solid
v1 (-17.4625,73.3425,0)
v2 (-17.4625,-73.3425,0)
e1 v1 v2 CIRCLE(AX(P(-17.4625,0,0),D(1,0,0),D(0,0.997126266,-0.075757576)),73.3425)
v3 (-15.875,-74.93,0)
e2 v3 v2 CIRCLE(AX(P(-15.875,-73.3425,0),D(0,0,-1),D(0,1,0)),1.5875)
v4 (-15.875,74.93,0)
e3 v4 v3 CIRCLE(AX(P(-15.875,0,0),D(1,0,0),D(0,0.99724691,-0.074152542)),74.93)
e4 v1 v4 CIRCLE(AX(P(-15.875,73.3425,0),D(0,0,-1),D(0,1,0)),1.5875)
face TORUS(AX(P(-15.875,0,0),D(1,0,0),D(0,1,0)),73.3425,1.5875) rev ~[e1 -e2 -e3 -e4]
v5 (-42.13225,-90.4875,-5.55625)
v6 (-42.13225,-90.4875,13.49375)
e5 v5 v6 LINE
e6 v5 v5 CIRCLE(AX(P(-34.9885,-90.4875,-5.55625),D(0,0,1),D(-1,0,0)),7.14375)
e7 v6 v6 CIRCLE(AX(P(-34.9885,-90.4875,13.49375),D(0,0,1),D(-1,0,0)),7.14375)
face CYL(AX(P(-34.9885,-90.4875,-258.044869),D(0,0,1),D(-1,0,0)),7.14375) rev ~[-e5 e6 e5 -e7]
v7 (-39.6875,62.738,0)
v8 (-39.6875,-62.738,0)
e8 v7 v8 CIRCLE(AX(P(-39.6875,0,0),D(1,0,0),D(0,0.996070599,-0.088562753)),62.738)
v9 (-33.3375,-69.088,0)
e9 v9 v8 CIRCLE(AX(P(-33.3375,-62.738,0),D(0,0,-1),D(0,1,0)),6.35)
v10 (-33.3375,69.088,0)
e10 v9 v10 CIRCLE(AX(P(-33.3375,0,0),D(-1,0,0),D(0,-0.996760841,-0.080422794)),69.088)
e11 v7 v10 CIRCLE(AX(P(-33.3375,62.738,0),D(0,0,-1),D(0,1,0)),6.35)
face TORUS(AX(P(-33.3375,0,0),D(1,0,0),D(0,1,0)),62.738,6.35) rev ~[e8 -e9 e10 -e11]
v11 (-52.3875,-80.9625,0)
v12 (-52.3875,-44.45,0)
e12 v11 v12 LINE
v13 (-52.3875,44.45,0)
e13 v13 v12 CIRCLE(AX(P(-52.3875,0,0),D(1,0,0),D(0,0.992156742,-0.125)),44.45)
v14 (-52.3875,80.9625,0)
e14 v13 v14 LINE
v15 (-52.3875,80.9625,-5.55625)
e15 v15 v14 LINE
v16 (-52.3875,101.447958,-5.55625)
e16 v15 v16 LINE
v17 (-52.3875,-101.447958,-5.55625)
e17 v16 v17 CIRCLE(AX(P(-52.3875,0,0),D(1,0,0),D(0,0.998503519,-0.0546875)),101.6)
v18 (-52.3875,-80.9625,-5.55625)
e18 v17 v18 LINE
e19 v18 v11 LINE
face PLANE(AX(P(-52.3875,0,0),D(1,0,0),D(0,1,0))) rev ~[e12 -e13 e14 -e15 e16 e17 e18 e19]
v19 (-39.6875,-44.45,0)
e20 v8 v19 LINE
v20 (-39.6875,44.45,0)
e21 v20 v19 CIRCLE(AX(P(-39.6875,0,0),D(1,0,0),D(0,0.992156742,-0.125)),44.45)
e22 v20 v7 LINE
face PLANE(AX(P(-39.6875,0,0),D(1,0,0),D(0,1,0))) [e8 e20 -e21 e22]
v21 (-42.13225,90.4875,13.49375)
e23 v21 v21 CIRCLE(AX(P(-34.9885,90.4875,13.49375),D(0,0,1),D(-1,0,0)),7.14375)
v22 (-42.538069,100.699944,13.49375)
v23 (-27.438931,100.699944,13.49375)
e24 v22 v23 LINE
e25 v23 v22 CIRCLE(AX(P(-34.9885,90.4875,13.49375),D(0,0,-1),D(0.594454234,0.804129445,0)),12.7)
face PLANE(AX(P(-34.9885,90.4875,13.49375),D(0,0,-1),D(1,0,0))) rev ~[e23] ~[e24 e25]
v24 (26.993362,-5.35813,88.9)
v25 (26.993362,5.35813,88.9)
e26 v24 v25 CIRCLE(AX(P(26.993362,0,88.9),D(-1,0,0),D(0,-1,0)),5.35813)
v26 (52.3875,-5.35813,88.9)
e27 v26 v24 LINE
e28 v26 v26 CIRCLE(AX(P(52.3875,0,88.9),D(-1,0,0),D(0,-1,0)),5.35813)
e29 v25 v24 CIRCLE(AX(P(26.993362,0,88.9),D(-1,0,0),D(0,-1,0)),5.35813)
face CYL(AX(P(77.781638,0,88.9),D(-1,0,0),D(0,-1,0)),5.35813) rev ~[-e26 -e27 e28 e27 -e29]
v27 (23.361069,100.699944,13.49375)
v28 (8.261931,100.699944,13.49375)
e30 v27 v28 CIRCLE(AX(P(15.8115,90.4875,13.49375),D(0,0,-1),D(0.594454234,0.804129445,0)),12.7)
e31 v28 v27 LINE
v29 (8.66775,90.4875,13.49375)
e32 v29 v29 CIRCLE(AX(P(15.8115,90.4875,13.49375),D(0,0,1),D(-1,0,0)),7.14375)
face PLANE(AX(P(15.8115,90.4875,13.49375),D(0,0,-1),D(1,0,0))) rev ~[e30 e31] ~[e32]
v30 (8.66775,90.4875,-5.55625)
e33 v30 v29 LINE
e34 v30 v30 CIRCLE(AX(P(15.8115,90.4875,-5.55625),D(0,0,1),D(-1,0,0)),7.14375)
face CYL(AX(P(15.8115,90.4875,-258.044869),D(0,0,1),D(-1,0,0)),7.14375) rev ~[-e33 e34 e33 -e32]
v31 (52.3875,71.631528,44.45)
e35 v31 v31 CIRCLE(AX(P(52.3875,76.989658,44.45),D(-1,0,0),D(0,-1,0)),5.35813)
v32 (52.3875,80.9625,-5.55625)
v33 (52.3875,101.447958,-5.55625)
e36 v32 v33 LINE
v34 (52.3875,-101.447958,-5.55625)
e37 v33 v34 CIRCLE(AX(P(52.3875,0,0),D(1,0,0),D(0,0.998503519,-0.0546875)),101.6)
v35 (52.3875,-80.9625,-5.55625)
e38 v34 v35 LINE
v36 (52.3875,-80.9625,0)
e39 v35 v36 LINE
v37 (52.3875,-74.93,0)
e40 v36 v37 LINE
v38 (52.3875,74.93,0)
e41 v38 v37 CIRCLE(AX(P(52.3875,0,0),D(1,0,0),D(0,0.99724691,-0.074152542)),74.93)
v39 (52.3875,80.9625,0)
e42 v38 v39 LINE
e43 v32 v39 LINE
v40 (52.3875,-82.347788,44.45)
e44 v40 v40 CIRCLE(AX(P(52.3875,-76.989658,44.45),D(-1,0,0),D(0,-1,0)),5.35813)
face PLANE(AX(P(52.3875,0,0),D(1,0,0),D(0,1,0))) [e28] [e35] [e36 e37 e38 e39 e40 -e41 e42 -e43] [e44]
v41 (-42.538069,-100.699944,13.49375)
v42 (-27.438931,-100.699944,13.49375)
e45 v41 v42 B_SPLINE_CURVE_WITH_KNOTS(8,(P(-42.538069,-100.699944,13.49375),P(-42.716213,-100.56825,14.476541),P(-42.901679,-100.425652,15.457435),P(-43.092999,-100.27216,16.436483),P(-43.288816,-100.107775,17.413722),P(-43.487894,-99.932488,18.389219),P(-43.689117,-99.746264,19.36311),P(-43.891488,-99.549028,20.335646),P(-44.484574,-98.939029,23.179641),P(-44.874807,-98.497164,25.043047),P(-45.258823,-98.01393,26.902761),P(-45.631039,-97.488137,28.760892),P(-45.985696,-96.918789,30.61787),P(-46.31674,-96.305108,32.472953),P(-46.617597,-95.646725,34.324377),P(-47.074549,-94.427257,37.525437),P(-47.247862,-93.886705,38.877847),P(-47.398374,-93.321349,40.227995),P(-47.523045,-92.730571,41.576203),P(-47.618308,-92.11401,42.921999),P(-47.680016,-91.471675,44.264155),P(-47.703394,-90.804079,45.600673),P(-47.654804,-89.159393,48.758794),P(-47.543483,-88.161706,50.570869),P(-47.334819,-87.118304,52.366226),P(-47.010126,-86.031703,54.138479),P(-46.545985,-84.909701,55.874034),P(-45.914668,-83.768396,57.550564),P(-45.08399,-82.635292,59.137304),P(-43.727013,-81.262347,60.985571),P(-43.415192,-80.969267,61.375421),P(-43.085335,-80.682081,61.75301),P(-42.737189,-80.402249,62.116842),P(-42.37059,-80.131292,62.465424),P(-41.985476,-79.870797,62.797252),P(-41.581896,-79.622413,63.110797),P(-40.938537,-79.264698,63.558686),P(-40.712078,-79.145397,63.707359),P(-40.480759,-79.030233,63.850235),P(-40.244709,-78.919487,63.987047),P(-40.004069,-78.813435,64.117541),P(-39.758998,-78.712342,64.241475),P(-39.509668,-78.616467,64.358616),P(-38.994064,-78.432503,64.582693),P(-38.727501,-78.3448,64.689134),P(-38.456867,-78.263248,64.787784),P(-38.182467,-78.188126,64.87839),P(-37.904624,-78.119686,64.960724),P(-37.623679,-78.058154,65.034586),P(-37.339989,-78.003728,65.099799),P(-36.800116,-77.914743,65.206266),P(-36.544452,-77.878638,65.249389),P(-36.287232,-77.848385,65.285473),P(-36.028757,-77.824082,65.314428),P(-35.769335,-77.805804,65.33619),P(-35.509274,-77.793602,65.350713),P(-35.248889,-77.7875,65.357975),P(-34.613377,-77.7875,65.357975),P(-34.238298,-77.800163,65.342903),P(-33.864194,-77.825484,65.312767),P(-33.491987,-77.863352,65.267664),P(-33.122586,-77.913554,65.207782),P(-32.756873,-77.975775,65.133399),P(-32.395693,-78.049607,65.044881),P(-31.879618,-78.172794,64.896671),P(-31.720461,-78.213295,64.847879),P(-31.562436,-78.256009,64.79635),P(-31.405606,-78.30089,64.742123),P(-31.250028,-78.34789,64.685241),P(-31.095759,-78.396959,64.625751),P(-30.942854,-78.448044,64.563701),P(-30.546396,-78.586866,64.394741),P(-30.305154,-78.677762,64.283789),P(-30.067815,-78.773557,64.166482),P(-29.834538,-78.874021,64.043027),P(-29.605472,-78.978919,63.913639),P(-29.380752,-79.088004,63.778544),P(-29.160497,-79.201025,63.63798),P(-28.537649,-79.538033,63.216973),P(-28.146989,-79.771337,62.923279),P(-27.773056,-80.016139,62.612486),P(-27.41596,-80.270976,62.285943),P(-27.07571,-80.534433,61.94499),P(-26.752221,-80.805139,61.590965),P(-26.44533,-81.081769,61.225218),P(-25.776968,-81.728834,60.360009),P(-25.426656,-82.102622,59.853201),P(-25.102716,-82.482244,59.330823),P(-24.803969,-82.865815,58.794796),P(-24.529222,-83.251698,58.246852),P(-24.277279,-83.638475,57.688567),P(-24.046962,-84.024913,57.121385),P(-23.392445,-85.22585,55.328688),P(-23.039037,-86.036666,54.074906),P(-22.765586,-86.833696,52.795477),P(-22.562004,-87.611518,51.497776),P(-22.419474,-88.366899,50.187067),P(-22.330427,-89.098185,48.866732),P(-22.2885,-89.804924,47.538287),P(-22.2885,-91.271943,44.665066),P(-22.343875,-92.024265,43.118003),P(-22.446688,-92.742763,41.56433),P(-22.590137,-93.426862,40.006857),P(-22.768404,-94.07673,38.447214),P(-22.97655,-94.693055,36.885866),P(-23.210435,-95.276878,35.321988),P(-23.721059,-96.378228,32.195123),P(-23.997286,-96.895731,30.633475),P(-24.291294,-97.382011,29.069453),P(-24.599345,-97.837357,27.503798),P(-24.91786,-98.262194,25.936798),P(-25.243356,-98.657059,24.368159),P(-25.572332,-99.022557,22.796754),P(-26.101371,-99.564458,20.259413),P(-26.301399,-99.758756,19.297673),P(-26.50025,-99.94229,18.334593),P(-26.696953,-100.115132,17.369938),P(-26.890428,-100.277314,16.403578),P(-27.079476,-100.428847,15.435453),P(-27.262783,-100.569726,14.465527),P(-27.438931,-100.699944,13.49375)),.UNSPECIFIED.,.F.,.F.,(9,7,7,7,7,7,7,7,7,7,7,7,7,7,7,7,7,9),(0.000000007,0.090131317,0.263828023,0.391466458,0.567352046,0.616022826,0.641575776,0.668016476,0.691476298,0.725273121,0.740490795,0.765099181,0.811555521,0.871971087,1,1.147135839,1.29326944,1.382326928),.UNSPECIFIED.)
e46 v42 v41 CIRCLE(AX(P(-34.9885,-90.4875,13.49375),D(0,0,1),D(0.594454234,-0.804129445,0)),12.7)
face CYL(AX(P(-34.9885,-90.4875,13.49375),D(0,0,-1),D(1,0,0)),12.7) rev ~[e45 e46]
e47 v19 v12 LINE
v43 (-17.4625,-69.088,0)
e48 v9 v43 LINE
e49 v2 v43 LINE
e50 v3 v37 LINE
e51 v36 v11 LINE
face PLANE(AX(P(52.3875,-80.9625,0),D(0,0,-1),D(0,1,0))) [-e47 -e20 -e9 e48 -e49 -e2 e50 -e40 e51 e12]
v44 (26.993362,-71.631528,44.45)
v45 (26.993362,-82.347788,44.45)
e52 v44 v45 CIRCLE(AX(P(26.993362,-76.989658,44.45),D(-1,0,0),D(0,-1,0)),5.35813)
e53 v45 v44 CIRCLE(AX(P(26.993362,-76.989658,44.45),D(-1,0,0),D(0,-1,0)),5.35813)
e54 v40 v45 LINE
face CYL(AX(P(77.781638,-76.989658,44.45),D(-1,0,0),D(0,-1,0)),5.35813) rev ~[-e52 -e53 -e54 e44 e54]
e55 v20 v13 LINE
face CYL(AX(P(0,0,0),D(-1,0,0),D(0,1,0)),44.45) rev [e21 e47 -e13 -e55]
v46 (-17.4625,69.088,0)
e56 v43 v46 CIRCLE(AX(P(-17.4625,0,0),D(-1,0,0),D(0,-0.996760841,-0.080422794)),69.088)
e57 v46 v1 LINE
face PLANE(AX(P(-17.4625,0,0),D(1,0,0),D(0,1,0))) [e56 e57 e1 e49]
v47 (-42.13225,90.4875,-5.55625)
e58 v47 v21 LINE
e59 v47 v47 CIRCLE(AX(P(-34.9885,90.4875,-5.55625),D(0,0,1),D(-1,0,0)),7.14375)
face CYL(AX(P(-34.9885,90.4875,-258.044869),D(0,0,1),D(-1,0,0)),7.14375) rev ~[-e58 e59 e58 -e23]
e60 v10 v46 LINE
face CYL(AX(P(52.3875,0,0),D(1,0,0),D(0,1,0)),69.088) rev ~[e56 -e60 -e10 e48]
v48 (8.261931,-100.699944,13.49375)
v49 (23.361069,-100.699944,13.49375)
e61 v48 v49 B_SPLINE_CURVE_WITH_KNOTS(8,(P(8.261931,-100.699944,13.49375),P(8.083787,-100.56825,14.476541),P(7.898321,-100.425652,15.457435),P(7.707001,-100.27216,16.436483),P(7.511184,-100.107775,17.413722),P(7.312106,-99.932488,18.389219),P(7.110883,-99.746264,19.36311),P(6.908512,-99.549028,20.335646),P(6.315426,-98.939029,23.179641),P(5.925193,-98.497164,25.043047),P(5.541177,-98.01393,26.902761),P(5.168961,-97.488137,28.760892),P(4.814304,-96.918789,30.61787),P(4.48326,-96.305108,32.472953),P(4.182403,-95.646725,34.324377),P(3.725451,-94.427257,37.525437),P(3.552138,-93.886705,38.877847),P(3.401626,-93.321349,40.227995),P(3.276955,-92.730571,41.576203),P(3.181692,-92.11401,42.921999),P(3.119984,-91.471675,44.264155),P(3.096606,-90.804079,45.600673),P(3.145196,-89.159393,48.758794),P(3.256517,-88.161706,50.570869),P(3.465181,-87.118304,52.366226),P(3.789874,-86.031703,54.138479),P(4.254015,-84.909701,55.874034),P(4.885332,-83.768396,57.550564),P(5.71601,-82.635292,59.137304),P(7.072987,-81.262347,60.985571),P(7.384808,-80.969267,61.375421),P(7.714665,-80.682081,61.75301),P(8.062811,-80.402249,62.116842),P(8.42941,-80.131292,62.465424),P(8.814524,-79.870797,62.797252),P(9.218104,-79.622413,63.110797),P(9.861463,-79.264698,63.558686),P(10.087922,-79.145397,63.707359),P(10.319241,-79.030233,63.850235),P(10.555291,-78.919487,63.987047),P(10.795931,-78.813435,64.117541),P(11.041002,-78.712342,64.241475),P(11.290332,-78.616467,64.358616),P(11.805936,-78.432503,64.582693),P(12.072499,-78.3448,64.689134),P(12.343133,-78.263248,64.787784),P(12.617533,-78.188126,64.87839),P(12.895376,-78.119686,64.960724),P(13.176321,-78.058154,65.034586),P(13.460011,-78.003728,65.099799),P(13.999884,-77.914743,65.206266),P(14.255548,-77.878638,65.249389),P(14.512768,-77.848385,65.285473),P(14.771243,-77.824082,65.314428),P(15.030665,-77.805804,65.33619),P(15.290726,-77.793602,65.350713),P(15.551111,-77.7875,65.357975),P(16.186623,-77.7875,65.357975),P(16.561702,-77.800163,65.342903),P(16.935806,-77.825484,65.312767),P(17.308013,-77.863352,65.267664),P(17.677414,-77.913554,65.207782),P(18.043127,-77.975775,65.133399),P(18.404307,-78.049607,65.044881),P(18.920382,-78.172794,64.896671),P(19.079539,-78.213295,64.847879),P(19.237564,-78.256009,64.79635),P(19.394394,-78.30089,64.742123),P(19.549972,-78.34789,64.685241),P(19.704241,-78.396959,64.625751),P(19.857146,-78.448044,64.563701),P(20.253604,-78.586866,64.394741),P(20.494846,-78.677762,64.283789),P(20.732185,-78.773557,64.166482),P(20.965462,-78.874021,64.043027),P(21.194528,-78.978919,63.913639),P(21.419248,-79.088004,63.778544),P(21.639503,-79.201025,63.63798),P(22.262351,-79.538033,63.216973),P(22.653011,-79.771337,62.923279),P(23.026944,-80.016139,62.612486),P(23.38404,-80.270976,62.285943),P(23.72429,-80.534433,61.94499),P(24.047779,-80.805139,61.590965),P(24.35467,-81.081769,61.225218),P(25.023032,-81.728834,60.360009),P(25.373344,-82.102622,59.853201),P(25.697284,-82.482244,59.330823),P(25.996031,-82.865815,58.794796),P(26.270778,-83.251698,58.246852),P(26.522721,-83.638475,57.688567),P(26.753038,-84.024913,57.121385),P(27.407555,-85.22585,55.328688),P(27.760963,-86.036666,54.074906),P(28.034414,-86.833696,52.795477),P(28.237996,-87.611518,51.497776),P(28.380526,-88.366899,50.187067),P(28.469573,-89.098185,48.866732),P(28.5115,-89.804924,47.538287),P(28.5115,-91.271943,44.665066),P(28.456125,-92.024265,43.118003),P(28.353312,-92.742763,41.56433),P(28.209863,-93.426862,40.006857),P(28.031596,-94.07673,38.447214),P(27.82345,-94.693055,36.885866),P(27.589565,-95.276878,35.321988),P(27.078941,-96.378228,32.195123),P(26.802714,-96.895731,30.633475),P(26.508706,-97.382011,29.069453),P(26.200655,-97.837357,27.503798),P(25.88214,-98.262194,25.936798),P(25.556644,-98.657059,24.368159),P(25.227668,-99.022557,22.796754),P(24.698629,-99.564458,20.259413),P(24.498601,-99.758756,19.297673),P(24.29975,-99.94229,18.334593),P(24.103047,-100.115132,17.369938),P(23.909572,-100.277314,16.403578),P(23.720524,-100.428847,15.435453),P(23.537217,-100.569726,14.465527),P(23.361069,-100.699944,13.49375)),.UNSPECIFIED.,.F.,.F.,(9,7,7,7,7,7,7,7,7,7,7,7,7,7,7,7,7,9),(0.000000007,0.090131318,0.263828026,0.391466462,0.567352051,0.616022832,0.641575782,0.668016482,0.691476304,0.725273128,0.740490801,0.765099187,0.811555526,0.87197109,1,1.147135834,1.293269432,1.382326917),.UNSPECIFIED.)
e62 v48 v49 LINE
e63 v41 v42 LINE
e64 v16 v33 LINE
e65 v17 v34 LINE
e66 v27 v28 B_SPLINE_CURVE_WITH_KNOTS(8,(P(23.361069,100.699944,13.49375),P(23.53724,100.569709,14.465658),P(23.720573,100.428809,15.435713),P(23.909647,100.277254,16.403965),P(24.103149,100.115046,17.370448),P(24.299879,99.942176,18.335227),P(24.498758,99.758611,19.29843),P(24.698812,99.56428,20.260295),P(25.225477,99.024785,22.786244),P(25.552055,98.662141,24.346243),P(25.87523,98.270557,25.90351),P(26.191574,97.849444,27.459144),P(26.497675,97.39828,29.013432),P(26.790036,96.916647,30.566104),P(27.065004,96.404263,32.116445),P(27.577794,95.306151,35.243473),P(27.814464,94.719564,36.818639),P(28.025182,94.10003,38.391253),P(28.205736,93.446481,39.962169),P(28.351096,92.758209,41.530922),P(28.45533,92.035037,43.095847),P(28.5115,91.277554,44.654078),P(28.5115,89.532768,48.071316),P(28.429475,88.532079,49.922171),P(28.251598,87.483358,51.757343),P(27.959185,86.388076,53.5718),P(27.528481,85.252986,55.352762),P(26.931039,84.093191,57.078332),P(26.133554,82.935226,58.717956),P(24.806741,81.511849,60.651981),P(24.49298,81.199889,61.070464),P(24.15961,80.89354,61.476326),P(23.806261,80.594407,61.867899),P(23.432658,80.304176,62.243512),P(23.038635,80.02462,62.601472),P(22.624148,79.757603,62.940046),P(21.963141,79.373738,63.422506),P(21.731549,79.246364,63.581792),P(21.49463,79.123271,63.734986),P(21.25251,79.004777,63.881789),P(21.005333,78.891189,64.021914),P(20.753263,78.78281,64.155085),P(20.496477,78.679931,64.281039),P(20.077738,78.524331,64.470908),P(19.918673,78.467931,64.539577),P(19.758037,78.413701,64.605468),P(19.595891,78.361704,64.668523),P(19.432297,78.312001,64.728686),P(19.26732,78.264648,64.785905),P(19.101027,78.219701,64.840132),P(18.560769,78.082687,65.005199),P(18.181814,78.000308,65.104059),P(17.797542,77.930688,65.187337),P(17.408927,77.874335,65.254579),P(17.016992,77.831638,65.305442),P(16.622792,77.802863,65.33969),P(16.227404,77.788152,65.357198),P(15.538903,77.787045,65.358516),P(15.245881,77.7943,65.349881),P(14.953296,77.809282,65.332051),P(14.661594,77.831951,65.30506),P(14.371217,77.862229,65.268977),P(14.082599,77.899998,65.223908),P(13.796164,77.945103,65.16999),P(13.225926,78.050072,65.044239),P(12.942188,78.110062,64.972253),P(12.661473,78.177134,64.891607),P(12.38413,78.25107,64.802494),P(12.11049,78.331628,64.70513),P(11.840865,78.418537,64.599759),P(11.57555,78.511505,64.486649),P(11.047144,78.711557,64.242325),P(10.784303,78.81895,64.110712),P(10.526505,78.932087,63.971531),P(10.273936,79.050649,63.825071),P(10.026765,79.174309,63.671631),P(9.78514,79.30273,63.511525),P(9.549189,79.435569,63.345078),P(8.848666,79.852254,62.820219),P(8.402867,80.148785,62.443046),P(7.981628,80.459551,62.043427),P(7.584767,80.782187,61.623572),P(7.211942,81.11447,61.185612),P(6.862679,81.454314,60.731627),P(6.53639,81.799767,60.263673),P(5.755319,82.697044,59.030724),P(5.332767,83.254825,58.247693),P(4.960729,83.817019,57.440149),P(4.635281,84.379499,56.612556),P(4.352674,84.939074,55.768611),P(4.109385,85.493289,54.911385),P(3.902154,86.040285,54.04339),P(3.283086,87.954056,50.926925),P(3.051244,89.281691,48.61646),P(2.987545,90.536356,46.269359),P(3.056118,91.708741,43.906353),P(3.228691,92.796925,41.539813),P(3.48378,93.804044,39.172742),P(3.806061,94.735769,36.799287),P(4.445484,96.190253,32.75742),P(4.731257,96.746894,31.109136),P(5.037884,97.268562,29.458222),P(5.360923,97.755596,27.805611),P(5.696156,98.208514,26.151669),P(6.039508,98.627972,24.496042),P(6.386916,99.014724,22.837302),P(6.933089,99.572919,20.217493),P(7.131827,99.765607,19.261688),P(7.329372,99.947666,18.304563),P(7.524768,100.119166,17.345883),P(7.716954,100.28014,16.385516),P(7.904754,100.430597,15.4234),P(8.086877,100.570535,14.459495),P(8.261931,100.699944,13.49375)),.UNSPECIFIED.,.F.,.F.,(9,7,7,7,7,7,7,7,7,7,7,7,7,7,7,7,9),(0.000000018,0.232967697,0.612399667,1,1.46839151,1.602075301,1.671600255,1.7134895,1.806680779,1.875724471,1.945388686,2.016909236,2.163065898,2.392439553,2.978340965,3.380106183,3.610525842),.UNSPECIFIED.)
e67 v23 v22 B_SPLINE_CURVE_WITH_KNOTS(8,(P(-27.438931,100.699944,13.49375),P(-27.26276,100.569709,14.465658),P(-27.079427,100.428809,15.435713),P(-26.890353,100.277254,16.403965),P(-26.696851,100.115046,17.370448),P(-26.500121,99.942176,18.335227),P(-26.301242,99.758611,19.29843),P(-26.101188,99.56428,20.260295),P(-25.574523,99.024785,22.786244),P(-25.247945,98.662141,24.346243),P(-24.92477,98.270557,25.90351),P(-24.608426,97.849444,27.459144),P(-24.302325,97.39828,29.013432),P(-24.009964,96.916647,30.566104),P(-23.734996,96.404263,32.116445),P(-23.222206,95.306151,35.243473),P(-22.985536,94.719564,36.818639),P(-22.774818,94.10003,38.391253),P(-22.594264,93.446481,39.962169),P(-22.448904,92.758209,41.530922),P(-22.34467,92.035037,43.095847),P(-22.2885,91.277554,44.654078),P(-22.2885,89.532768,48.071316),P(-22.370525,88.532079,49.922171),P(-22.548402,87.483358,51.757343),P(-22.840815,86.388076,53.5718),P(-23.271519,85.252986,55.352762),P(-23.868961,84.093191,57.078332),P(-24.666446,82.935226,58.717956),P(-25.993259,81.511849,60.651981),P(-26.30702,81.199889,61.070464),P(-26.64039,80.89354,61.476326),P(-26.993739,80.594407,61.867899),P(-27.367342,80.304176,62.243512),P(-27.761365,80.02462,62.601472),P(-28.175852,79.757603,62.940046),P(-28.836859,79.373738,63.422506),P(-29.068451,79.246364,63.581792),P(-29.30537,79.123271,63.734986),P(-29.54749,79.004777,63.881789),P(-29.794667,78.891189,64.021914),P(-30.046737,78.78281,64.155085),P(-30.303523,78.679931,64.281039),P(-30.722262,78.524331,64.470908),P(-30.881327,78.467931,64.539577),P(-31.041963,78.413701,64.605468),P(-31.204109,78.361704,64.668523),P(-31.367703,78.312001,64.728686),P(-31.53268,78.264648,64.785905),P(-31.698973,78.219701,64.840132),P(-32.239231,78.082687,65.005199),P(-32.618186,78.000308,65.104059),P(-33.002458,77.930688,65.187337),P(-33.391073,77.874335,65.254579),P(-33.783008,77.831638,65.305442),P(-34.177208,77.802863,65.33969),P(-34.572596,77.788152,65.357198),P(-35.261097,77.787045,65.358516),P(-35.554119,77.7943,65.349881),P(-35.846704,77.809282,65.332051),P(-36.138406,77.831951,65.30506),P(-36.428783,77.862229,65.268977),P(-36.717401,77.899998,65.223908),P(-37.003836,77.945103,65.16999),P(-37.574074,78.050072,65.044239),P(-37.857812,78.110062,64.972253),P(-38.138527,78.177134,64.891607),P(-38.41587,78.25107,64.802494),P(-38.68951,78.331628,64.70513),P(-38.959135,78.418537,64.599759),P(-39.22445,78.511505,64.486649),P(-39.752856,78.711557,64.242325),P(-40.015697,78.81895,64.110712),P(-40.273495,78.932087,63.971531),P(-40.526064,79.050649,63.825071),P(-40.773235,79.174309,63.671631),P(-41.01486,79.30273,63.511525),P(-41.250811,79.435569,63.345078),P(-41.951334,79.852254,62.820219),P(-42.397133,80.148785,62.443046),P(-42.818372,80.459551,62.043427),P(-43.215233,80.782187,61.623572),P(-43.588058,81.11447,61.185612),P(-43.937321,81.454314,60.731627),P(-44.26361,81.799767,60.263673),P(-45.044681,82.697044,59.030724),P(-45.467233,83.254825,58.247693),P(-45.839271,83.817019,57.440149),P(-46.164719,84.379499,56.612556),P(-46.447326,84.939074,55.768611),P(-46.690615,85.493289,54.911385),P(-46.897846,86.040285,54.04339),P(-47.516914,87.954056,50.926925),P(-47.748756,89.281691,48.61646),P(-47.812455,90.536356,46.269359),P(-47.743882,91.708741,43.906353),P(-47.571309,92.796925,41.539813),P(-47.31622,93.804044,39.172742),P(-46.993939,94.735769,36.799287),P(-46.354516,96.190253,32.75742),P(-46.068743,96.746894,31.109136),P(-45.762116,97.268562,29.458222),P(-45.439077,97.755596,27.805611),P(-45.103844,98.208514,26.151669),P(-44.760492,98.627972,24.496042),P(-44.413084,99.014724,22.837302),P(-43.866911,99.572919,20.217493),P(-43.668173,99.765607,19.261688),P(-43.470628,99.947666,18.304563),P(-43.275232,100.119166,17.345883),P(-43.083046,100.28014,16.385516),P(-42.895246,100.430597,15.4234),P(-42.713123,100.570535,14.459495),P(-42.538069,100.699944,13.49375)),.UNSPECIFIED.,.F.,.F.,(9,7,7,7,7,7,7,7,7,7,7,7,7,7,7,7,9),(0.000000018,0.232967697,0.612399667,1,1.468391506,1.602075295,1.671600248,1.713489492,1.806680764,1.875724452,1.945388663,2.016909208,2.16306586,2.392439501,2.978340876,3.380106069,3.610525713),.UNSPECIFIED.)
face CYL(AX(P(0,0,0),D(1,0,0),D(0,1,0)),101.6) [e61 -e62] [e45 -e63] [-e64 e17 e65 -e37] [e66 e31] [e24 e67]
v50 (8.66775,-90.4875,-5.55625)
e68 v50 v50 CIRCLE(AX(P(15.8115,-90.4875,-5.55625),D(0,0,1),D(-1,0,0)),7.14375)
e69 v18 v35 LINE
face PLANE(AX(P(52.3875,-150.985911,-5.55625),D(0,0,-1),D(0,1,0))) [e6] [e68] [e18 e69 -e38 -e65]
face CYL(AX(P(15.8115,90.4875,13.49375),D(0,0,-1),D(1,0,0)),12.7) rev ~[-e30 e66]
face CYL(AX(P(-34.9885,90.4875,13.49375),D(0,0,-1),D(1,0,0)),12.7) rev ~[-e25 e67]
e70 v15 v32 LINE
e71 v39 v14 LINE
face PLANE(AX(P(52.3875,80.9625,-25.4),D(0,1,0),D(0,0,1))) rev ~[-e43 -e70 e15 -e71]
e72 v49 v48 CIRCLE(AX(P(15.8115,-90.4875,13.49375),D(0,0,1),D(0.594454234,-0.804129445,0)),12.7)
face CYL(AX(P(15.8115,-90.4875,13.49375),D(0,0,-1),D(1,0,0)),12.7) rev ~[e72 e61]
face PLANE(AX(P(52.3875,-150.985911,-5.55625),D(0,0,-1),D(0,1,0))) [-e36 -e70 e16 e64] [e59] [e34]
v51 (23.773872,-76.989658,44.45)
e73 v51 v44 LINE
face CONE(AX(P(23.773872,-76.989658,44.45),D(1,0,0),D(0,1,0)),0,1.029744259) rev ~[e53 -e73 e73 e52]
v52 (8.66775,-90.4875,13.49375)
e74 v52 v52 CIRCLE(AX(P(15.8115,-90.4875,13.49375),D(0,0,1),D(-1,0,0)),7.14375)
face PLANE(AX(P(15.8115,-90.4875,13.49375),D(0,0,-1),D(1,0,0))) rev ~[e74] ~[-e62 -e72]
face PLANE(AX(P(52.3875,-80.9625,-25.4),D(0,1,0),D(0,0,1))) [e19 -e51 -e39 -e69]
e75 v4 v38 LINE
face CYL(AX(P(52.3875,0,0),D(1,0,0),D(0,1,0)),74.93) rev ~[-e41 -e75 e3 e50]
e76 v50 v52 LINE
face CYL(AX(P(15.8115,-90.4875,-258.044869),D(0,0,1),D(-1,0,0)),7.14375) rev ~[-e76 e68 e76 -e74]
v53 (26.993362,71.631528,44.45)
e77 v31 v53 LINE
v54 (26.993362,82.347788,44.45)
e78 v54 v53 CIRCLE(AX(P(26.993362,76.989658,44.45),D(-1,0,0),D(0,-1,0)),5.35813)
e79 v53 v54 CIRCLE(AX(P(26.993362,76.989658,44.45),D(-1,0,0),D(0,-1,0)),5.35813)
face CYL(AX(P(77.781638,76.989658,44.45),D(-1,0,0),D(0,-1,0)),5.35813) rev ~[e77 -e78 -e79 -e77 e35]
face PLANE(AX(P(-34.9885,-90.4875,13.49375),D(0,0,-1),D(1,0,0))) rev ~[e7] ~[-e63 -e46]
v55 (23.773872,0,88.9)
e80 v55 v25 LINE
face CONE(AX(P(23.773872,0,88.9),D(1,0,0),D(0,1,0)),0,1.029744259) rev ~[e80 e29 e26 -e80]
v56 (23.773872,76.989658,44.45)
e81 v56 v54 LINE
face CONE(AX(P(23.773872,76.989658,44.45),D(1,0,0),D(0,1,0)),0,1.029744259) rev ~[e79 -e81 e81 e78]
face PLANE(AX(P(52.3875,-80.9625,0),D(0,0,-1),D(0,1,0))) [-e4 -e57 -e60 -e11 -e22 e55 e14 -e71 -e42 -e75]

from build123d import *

# Parameters (mm, degrees)
F0_R      = 101.6
F0_R_2    = 44.45
F1_DEPTH  = 52.3875
F2_R      = 69.088
F3_DEPTH  = 92.075
F4_R      = 74.93
F5_DEPTH  = 69.85
F6_R      = 6.35
F7_R      = 1.5875
F9_D      = 10.71626
F9_DEPTH  = 25.3941384615
F9_TIP    = 3.2194893086
F10_W     = 294.4396436214
F10_H     = 108.7958868504
F11_DEPTH = 104.776
F12_W     = 161.925
F12_H     = 25.4
F13_DEPTH = 104.7760001
F15_D     = 14.2875
F17_R     = 12.7
F18_DEPTH = 88.1072501


with BuildPart() as f1:
    # F0 (on Right) → F1 (new body, symmetric)
    with BuildSketch(Plane.YZ):
        Circle(F0_R)
        Circle(F0_R_2, mode=Mode.SUBTRACT)
    extrude(amount=F1_DEPTH, both=True)

    # F2 (on face) → F3 (cut)
    with BuildSketch(Plane.YZ.offset(52.3875)):
        Circle(F2_R)
    extrude(amount=-F3_DEPTH, mode=Mode.SUBTRACT)

    # F4 (on face) → F5 (cut)
    with BuildSketch(Plane.YZ.offset(52.3875)):
        Circle(F4_R)
    extrude(amount=-F5_DEPTH, mode=Mode.SUBTRACT)

    # F6
    f6_edges = [f1.edges().sort_by_distance(p)[0] for p in [
        (-39.6875, -69.088, 0),
    ]]
    fillet(f6_edges, radius=F6_R)

    # F7
    f7_edges = [f1.edges().sort_by_distance(p)[0] for p in [
        (-17.4625, -74.93, 0),
    ]]
    fillet(f7_edges, radius=F7_R)

    # F9
    with Locations(Plane.YZ.offset(52.3875)):
        with Locations((-76.9896583964, 44.45), (0, 88.9), (76.9896583964, 44.45)):
            Hole(F9_D / 2, depth=F9_DEPTH)
            with Locations((0, 0, -(F9_DEPTH + F9_TIP / 2))):  # 118° drill point
                Cone(0, F9_D / 2, F9_TIP, mode=Mode.SUBTRACT)

    # F10 (on face) → F11 (cut, through all)
    with BuildSketch(Plane.YZ.offset(52.3875)):
        with Locations((-3.7660896778, -59.9541934252)):
            Rectangle(F10_W, F10_H)
    extrude(amount=-F11_DEPTH, mode=Mode.SUBTRACT)

    # F12 (on face) → F13 (cut, through all)
    with BuildSketch(Plane.YZ.offset(52.3875)):
        with Locations((0, -12.7)):
            Rectangle(F12_W, F12_H)
    extrude(amount=-F13_DEPTH, mode=Mode.SUBTRACT)

    # F15 (through all)
    with Locations(Plane(origin=(0, 0, -5.55625), x_dir=(1, 0, 0), z_dir=(0, 0, -1))):
        with Locations((15.8115, 90.4875), (-34.9885, 90.4875), (15.8115, -90.4875), (-34.9885, -90.4875)):
            Hole(F15_D / 2)

    # F17 (on offset) → F18 (cut, through all)
    with BuildSketch(Plane(origin=(0, 0, 13.49375), x_dir=(1, 0, 0), z_dir=(0, 0, -1))):
        with Locations((-34.9885, 90.4875)):
            Circle(F17_R)
        with Locations((15.8115, 90.4875)):
            Circle(F17_R)
        with Locations((-34.9885, -90.4875)):
            Circle(F17_R)
        with Locations((15.8115, -90.4875)):
            Circle(F17_R)
    extrude(amount=-F18_DEPTH, mode=Mode.SUBTRACT)


solid = f1.part
